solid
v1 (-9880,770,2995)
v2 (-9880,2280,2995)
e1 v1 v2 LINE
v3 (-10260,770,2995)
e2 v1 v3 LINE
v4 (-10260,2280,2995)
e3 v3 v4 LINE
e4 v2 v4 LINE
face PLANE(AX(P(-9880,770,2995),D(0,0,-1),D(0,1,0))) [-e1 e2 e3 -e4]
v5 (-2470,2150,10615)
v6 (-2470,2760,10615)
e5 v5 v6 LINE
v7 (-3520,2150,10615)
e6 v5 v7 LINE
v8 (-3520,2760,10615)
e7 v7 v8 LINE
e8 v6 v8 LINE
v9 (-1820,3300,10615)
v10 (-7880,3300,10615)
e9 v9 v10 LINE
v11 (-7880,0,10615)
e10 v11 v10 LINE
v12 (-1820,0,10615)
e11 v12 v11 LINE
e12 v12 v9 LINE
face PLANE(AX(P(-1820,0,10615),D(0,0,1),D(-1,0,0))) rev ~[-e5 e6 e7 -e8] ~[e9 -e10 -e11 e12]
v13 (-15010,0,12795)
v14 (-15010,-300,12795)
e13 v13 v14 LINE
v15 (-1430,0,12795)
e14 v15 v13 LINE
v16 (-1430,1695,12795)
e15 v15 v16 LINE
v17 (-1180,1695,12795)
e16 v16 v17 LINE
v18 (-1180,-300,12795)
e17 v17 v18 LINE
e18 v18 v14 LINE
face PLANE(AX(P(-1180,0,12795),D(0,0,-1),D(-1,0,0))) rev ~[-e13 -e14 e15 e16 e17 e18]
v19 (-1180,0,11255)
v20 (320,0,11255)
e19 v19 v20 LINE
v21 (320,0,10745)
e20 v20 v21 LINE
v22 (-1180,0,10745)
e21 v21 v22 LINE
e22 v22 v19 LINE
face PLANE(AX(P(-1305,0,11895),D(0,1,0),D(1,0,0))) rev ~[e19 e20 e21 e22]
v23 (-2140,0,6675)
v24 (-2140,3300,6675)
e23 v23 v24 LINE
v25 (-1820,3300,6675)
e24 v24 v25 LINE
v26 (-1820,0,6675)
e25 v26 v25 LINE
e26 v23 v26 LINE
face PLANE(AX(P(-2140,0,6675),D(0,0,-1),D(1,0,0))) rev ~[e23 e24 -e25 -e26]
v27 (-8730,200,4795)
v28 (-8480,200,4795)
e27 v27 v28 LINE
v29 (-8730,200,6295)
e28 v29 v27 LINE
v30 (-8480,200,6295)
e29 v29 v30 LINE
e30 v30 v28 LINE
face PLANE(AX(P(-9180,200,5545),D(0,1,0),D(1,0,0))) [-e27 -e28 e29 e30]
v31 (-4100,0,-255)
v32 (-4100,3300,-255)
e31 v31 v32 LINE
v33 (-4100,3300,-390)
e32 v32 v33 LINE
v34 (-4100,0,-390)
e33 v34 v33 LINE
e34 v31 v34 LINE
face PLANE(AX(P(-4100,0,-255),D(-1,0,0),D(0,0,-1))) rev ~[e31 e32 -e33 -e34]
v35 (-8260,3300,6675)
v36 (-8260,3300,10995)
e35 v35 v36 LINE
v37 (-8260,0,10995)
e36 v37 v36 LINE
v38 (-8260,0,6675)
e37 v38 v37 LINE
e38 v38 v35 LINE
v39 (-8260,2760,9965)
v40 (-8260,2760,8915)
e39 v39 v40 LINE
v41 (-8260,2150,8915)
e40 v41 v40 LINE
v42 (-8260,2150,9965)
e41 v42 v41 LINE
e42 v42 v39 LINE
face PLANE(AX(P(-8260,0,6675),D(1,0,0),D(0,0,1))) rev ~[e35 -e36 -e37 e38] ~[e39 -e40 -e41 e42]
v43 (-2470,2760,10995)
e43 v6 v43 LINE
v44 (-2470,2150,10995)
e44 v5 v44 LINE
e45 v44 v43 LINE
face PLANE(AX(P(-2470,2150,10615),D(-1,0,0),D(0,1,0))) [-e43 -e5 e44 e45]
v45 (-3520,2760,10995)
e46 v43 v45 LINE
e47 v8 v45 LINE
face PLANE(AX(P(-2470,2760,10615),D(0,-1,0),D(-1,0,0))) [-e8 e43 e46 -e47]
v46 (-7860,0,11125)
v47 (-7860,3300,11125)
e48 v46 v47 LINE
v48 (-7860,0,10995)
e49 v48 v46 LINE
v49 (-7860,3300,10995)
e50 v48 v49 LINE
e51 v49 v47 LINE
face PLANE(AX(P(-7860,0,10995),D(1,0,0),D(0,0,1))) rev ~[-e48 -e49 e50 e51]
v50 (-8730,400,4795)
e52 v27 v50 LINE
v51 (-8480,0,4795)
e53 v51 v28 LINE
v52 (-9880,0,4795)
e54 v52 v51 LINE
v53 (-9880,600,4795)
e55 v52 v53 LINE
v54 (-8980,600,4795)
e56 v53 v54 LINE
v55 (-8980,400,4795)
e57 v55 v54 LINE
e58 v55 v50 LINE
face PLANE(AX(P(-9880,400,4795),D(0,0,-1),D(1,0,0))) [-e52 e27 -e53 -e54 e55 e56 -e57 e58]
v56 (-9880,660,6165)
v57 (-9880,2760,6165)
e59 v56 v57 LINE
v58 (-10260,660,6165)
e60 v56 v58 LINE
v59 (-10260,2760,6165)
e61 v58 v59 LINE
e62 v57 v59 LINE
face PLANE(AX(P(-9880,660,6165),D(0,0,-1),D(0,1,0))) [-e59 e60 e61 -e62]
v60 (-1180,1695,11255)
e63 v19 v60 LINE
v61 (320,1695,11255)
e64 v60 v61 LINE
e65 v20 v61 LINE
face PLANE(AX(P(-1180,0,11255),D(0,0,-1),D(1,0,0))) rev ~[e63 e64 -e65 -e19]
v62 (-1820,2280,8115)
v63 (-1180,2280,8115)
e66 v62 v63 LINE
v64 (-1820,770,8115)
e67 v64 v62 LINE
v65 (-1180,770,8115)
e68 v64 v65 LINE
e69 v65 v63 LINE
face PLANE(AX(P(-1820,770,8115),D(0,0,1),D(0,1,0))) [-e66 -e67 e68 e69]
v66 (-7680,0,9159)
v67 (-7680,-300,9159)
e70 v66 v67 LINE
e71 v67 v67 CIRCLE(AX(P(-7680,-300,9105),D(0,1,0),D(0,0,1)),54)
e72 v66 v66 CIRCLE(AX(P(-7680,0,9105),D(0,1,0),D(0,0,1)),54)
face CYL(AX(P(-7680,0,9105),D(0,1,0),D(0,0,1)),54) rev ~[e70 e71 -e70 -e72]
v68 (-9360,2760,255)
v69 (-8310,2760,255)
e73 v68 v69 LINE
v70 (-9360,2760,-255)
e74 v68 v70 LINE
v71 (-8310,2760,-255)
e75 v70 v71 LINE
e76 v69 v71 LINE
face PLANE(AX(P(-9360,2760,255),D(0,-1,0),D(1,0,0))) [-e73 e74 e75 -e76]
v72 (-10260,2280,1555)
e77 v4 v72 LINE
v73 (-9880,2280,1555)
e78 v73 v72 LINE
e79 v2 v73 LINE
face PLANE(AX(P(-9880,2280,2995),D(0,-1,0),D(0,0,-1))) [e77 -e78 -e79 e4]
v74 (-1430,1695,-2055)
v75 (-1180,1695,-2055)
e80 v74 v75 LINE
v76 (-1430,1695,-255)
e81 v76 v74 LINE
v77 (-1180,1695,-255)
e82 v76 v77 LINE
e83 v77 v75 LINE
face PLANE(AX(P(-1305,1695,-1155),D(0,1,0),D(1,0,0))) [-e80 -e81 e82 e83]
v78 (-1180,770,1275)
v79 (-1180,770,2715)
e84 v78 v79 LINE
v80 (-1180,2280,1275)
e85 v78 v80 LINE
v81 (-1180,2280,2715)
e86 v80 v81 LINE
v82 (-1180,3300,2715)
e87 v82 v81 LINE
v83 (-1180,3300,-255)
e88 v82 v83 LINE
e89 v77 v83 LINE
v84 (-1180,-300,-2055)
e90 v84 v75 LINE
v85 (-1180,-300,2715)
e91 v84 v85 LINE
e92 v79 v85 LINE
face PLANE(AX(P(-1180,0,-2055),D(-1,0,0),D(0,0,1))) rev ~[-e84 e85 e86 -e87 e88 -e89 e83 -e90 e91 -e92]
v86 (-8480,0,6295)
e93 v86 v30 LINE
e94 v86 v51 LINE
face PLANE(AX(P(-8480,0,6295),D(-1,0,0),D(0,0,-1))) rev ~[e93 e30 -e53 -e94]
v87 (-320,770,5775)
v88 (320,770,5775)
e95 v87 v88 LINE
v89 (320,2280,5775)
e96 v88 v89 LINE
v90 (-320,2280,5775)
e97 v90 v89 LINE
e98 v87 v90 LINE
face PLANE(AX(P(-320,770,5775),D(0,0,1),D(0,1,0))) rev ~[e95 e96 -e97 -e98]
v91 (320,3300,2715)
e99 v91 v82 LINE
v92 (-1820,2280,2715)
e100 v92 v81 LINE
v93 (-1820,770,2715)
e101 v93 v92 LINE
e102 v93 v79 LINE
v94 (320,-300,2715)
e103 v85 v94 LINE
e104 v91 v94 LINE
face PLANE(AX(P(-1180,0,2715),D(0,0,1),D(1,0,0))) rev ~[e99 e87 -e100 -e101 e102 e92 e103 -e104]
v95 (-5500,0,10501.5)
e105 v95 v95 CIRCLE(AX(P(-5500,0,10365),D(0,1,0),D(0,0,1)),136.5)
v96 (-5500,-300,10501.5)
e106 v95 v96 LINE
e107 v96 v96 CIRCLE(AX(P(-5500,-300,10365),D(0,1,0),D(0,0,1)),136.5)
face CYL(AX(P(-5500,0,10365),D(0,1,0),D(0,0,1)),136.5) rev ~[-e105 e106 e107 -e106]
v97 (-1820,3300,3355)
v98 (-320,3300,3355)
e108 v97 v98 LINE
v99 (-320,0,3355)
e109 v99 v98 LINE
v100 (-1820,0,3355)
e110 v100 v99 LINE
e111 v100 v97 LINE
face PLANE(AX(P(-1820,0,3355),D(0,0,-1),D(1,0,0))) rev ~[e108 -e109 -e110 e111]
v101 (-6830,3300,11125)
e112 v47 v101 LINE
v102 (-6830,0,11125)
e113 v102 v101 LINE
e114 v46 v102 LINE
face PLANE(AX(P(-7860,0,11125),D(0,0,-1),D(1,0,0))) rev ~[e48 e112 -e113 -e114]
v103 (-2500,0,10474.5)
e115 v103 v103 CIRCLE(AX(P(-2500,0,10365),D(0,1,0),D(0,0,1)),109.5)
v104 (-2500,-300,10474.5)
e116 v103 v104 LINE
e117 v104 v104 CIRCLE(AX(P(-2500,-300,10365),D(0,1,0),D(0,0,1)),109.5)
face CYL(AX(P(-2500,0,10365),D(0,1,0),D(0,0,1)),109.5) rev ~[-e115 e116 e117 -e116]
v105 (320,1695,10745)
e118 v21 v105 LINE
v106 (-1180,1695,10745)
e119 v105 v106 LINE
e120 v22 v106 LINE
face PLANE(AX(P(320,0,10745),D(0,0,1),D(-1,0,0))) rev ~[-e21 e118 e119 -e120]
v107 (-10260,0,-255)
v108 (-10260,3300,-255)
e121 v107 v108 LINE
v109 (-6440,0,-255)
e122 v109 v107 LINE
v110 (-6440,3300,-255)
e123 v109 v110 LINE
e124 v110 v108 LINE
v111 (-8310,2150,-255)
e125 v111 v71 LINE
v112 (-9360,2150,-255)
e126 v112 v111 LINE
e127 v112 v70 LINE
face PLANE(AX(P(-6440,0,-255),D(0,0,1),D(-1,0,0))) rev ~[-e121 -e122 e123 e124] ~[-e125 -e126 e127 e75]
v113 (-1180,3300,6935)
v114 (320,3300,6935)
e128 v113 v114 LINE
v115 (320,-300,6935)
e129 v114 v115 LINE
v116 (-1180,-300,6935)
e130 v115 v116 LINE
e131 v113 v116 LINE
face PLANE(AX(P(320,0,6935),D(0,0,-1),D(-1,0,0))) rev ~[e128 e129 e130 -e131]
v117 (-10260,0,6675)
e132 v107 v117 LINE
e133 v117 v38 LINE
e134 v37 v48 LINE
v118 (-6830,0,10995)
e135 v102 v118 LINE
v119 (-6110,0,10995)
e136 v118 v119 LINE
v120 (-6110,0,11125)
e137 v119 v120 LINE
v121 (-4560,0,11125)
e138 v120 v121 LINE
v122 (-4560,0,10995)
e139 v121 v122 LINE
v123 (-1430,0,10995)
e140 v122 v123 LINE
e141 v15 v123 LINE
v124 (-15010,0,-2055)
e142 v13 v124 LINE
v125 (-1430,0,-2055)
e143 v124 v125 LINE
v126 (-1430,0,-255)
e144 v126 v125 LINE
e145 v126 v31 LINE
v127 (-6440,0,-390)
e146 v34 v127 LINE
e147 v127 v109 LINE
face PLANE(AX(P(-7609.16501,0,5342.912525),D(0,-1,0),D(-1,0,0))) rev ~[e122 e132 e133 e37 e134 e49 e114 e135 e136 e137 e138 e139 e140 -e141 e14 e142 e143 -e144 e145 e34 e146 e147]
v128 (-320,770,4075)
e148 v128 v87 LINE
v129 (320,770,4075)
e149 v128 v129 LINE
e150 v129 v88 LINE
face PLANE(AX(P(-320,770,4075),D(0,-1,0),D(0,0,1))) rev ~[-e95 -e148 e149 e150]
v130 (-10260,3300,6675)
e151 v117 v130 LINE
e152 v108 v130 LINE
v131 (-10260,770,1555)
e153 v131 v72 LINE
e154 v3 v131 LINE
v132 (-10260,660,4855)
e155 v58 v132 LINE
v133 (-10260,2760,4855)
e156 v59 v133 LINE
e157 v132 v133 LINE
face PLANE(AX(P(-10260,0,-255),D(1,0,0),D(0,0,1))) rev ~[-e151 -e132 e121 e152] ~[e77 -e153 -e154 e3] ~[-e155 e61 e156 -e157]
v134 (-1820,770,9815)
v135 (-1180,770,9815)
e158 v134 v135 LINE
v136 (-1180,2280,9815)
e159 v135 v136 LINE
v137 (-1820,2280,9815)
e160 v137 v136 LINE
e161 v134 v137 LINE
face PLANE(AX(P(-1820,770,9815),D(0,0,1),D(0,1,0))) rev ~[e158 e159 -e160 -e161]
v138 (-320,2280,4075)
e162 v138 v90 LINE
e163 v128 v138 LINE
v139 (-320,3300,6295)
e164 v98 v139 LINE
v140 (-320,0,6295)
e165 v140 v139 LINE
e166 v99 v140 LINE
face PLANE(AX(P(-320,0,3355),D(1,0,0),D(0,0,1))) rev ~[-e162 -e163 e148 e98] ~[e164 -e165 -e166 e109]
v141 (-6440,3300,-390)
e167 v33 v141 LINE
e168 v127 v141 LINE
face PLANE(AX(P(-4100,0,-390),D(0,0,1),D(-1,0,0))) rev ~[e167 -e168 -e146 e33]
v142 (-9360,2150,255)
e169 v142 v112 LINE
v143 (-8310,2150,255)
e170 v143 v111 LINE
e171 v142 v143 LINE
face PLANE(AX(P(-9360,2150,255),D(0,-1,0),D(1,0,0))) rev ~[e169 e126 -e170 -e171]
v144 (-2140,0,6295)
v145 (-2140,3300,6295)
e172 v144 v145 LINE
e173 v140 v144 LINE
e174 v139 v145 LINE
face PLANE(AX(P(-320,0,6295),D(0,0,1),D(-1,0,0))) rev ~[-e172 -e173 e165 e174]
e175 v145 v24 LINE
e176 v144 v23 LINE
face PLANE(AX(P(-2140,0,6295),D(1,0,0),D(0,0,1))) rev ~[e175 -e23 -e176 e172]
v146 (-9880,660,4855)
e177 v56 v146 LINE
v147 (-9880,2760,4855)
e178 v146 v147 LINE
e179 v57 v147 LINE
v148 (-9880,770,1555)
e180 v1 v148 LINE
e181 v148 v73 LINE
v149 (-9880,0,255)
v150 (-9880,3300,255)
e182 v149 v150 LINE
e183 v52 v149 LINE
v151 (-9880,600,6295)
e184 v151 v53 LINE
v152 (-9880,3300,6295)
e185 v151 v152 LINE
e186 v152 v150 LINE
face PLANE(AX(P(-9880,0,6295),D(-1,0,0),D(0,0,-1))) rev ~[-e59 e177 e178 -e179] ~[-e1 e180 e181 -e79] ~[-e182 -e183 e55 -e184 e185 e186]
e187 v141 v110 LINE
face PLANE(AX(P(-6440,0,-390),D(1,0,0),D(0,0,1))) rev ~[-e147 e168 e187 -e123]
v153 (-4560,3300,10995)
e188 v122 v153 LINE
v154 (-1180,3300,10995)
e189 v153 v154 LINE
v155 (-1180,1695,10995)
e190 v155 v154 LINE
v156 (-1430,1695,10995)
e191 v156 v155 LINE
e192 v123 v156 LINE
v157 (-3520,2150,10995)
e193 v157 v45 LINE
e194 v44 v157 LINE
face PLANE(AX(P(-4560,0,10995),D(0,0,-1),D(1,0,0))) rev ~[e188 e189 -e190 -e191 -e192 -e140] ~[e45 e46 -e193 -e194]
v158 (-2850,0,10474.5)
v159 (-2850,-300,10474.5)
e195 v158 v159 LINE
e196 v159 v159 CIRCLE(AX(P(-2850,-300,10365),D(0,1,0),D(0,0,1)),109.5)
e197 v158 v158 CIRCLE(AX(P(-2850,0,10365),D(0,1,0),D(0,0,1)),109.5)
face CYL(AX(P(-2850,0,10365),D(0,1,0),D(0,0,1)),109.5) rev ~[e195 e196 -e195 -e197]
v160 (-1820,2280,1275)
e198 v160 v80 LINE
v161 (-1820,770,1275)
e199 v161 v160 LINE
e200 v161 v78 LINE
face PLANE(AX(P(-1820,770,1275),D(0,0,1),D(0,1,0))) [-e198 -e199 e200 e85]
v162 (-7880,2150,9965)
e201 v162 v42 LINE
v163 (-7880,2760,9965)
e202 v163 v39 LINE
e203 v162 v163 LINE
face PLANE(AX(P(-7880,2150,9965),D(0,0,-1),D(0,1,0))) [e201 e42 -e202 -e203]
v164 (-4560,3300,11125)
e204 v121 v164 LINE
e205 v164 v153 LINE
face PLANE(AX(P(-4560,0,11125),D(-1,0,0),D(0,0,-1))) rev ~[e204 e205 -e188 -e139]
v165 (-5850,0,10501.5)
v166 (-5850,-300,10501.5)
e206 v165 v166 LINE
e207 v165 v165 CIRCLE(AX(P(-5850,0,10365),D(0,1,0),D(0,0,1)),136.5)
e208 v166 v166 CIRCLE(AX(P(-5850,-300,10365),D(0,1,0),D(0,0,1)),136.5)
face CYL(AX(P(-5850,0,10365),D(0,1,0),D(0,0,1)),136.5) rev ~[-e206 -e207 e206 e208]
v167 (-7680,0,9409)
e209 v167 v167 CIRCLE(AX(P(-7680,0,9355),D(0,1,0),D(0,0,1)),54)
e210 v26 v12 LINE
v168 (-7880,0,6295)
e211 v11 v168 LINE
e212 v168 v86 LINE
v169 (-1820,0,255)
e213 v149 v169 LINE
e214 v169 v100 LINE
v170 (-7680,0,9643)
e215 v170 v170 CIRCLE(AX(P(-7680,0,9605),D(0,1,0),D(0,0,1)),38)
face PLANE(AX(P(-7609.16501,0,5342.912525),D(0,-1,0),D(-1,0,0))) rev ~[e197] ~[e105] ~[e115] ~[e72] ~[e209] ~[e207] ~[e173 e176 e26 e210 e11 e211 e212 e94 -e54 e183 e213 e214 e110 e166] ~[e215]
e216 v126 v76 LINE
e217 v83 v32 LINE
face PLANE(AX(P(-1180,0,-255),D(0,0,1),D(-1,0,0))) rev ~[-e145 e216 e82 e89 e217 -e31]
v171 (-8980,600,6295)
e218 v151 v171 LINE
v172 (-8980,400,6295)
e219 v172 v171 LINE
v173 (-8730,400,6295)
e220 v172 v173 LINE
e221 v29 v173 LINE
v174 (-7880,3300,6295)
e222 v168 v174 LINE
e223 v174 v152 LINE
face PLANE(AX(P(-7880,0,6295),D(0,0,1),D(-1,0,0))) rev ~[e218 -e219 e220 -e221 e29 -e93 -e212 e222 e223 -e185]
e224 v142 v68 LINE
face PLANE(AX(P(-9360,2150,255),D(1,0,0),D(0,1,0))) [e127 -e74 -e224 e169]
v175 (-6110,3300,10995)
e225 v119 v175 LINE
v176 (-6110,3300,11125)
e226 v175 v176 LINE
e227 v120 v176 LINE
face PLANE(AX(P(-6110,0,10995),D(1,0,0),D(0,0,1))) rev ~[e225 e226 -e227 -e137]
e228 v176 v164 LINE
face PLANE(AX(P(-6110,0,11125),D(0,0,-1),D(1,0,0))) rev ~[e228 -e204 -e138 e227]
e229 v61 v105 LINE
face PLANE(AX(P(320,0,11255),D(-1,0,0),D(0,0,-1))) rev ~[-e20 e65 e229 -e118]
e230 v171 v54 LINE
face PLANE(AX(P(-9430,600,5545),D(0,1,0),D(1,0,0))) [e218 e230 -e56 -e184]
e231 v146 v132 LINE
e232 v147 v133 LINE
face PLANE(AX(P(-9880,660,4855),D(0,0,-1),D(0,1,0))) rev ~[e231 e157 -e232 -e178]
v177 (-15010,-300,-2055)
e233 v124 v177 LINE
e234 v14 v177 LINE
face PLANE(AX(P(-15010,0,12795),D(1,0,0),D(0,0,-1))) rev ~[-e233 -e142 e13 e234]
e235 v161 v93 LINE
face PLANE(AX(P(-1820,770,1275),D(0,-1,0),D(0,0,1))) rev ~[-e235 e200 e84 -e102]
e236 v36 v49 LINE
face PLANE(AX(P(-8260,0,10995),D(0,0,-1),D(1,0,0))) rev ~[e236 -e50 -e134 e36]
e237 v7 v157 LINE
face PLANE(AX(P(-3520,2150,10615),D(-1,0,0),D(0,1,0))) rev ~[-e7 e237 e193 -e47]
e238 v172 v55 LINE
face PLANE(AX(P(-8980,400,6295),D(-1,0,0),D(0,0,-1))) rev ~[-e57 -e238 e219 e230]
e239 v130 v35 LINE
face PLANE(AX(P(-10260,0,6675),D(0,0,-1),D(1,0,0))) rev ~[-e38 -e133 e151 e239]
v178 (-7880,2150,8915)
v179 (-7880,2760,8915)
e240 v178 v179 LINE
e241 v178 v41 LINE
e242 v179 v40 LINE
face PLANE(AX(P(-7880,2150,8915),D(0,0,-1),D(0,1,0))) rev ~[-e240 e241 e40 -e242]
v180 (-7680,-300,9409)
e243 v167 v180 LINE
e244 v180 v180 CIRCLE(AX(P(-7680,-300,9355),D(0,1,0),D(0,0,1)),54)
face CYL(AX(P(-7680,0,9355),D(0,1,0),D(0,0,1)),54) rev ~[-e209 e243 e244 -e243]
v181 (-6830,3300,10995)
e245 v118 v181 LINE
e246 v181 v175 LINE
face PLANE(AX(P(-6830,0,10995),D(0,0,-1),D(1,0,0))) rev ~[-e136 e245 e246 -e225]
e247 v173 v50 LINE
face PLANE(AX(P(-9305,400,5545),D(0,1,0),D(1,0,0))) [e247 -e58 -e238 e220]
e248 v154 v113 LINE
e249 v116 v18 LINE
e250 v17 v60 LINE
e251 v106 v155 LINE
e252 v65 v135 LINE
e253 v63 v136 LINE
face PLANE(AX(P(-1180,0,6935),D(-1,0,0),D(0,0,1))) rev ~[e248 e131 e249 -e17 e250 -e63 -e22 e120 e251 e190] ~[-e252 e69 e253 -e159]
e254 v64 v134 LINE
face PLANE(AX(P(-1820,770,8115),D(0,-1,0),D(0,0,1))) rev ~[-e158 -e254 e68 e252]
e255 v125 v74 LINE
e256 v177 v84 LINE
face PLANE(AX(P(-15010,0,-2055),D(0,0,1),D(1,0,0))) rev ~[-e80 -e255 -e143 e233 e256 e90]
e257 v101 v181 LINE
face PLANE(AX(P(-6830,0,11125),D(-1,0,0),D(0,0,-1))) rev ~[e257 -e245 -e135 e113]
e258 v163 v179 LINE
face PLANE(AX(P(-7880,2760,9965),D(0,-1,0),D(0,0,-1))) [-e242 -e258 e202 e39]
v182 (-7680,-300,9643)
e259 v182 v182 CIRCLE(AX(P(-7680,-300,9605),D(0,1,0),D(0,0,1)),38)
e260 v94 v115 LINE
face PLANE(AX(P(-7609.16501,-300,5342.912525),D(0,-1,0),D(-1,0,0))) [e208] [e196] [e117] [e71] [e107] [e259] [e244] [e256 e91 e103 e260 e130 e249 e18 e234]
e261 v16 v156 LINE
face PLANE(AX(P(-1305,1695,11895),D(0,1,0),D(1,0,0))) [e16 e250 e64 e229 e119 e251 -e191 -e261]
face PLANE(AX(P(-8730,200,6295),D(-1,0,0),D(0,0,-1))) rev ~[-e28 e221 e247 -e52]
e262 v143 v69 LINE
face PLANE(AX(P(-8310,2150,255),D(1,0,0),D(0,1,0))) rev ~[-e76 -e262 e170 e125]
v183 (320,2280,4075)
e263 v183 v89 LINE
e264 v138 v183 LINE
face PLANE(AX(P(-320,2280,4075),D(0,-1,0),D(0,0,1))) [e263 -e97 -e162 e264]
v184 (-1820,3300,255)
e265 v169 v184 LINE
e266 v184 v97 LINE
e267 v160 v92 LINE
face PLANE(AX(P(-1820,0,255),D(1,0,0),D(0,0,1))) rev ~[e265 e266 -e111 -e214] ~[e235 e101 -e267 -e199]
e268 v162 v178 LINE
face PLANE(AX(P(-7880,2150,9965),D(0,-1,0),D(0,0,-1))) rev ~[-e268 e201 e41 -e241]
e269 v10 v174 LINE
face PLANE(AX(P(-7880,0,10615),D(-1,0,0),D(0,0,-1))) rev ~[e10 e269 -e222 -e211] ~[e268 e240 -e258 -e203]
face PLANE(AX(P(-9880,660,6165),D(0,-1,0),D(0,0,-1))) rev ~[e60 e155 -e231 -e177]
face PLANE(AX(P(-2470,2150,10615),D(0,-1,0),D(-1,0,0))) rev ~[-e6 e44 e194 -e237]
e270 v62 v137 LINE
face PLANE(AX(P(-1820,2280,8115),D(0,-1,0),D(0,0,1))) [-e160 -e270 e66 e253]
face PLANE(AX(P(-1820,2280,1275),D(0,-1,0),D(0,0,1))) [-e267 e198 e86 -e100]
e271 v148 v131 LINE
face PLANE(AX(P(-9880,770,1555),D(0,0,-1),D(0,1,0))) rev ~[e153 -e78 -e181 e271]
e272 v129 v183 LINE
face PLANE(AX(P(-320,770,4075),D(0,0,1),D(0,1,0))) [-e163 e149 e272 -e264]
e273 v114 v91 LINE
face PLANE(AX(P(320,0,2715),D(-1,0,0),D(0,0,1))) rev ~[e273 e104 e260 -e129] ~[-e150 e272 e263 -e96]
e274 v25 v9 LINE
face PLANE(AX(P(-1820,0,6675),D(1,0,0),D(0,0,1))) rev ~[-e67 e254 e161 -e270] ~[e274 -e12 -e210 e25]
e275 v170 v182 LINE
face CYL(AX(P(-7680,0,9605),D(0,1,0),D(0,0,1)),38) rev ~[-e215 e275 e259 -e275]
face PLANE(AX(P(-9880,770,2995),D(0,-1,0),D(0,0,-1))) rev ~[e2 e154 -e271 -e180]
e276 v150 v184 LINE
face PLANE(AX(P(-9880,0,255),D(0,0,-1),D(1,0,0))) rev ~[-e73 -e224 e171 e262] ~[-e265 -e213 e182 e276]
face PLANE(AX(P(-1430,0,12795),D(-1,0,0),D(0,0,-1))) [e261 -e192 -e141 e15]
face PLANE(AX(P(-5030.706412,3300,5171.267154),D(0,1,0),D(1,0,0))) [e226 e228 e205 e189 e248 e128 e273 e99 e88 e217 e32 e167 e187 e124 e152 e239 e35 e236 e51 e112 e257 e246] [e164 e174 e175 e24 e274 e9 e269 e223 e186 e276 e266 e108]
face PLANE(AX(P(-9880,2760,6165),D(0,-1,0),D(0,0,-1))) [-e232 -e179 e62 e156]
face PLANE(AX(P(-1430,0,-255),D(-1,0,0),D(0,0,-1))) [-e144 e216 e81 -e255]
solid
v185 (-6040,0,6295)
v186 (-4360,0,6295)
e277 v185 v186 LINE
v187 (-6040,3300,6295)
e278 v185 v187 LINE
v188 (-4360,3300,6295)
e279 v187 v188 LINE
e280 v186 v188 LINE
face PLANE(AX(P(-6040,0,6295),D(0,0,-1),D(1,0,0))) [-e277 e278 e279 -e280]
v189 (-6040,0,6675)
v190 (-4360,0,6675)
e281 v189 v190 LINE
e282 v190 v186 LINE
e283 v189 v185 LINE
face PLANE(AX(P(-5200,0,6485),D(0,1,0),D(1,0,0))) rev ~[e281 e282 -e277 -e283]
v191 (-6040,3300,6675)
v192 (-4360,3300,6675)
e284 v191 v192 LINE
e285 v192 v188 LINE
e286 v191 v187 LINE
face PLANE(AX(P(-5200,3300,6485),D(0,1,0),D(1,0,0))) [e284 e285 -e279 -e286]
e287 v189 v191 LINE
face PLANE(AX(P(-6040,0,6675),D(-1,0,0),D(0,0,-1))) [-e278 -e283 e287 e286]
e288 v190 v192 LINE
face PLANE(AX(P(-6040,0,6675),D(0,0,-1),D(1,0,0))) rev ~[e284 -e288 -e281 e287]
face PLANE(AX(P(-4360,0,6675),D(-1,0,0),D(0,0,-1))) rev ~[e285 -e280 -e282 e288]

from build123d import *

# Parameters (mm, degrees)
EXTRUDE_1_DEPTH     = 3300
SKETCH_1_W          = 1680
SKETCH_1_H          = 380
EXTRUDE_1_2_DEPTH   = 3300
SKETCH_3_W          = 250
SKETCH_3_H          = 1800
EXTRUDE_2_DEPTH     = 1695
EXTRUDE_3_DEPTH     = 300
SKETCH_5_W          = 1310
SKETCH_5_H          = 2100
SKETCH_5_W_2        = 1440
SKETCH_5_H_2        = 1510
CUT_EXTRUDE_1_DEPTH = 380
SKETCH_6_W          = 1400
SKETCH_6_H          = 1500
EXTRUDE_4_DEPTH     = 200
SKETCH_7_W          = 1150
SKETCH_7_H          = 1500
EXTRUDE_5_DEPTH     = 200
SKETCH_8_W          = 900
SKETCH_8_H          = 1500
EXTRUDE_6_DEPTH     = 200
SKETCH_9_W          = 1440
SKETCH_9_H          = 1510
CUT_EXTRUDE_2_DEPTH = 640
SKETCH_10_W         = 1700
SKETCH_10_H         = 1510
CUT_EXTRUDE_3_DEPTH = 640
SKETCH_11_W         = 1050
SKETCH_11_H         = 610
CUT_EXTRUDE_4_DEPTH = 510
SKETCH_12_W         = 1050
SKETCH_12_H         = 610
CUT_EXTRUDE_5_DEPTH = 380
SKETCH_13_W         = 1050
SKETCH_13_H         = 610
CUT_EXTRUDE_6_DEPTH = 380
SKETCH_14_W         = 1700
SKETCH_14_H         = 1510
CUT_EXTRUDE_7_DEPTH = 640
SKETCH_15_R         = 54
SKETCH_15_R_2       = 38
SKETCH_15_R_3       = 136.5
SKETCH_15_R_4       = 109.5
CUT_EXTRUDE_8_DEPTH = 300


with BuildPart() as part:
    # Эскиз1 → Бобышка-Вытянуть1 (new body)
    with BuildSketch(Plane(origin=(0, 0, 0), x_dir=(1, 0, 0), z_dir=(0, 1, 0))):
        Polygon((-6440, 255), (-10260, 255), (-10260, -6675), (-8260, -6675), (-8260, -10995), (-7860, -10995), (-7860, -11125), (-6830, -11125), (-6830, -10995), (-6110, -10995), (-6110, -11125), (-4560, -11125), (-4560, -10995), (-1180, -10995), (-1180, -6935), (320, -6935), (320, -2715), (-1180, -2715), (-1180, 255), (-4100, 255), (-4100, 390), (-6440, 390), align=None)
        Polygon((-7880, -10615), (-7880, -6675), (-7880, -6295), (-9880, -6295), (-9880, -255), (-1820, -255), (-1820, -3355), (-320, -3355), (-320, -6295), (-2140, -6295), (-2140, -6675), (-1820, -6675), (-1820, -10615), align=None, mode=Mode.SUBTRACT)
    extrude(amount=EXTRUDE_1_DEPTH)

    # Эскиз3 → Бобышка-Вытянуть2 (add)
    with BuildSketch(Plane(origin=(0, 0, 0), x_dir=(1, 0, 0), z_dir=(0, 1, 0))):
        with Locations((-1305, -11895)):
            Rectangle(SKETCH_3_W, SKETCH_3_H)
        Polygon((-1180, -10745), (-1180, -10995), (-1180, -11255), (320, -11255), (320, -10745), align=None)
        with Locations((-1305, 1155)):
            Rectangle(SKETCH_3_W, SKETCH_3_H)
    extrude(amount=EXTRUDE_2_DEPTH)

    # Эскиз4 → Бобышка-Вытянуть3 (add)
    with BuildSketch(Plane(origin=(0, 0, 0), x_dir=(1, 0, 0), z_dir=(0, 1, 0))):
        Polygon((-1180, 2055), (-1180, -2715), (320, -2715), (320, -6935), (-1180, -6935), (-1180, -12795), (-15010, -12795), (-15010, 2055), align=None)
    extrude(amount=-EXTRUDE_3_DEPTH)

    # Эскиз5 → Вырез-Вытянуть1 (cut)
    with BuildSketch(Plane(origin=(-9880, 0, 0), x_dir=(0, 0, -1), z_dir=(1, 0, 0))):
        with Locations((-5510, 1710)):
            Rectangle(SKETCH_5_W, SKETCH_5_H)
        with Locations((-2275, 1525)):
            Rectangle(SKETCH_5_W_2, SKETCH_5_H_2)
    extrude(amount=-CUT_EXTRUDE_1_DEPTH, mode=Mode.SUBTRACT)

    # Эскиз6 → Бобышка-Вытянуть4 (add)
    with BuildSketch(Plane(origin=(0, 0, 0), x_dir=(1, 0, 0), z_dir=(0, 1, 0))):
        with Locations((-9180, -5545)):
            Rectangle(SKETCH_6_W, SKETCH_6_H)
    extrude(amount=EXTRUDE_4_DEPTH)

    # Эскиз7 → Бобышка-Вытянуть5 (add)
    with BuildSketch(Plane(origin=(0, 200, 0), x_dir=(1, 0, 0), z_dir=(0, 1, 0))):
        with Locations((-9305, -5545)):
            Rectangle(SKETCH_7_W, SKETCH_7_H)
    extrude(amount=EXTRUDE_5_DEPTH)

    # Эскиз8 → Бобышка-Вытянуть6 (add)
    with BuildSketch(Plane(origin=(0, 400, 0), x_dir=(1, 0, 0), z_dir=(0, 1, 0))):
        with Locations((-9430, -5545)):
            Rectangle(SKETCH_8_W, SKETCH_8_H)
    extrude(amount=EXTRUDE_6_DEPTH)

    # Эскиз9 → Вырез-Вытянуть2 (cut)
    with BuildSketch(Plane.ZY.offset(1820)):
        with Locations((1995, 1525)):
            Rectangle(SKETCH_9_W, SKETCH_9_H)
    extrude(amount=-CUT_EXTRUDE_2_DEPTH, mode=Mode.SUBTRACT)

    # Эскиз10 → Вырез-Вытянуть3 (cut)
    with BuildSketch(Plane.ZY.offset(1820)):
        with Locations((8965, 1525)):
            Rectangle(SKETCH_10_W, SKETCH_10_H)
    extrude(amount=-CUT_EXTRUDE_3_DEPTH, mode=Mode.SUBTRACT)

    # Эскиз11 → Вырез-Вытянуть4 (cut)
    with BuildSketch(Plane.XY.offset(255)):
        with Locations((-8835, 2455)):
            Rectangle(SKETCH_11_W, SKETCH_11_H)
    extrude(amount=-CUT_EXTRUDE_4_DEPTH, mode=Mode.SUBTRACT)

    # Эскиз12 → Вырез-Вытянуть5 (cut)
    with BuildSketch(Plane(origin=(-7880, 0, 0), x_dir=(0, 0, -1), z_dir=(1, 0, 0))):
        with Locations((-9440, 2455)):
            Rectangle(SKETCH_12_W, SKETCH_12_H)
    extrude(amount=-CUT_EXTRUDE_5_DEPTH, mode=Mode.SUBTRACT)

    # Эскиз13 → Вырез-Вытянуть6 (cut)
    with BuildSketch(Plane(origin=(0, 0, 10615), x_dir=(-1, 0, 0), z_dir=(0, 0, -1))):
        with Locations((2995, 2455)):
            Rectangle(SKETCH_13_W, SKETCH_13_H)
    extrude(amount=-CUT_EXTRUDE_6_DEPTH, mode=Mode.SUBTRACT)

    # Эскиз14 → Вырез-Вытянуть7 (cut)
    with BuildSketch(Plane.ZY.offset(320)):
        with Locations((4925, 1525)):
            Rectangle(SKETCH_14_W, SKETCH_14_H)
    extrude(amount=-CUT_EXTRUDE_7_DEPTH, mode=Mode.SUBTRACT)

    # Эскиз15 → Вырез-Вытянуть8 (cut)
    with BuildSketch(Plane(origin=(0, 0, 0), x_dir=(1, 0, 0), z_dir=(0, 1, 0))):
        with Locations(Location((-7680, -9355, 0), (0, 0, 270))):
            Circle(SKETCH_15_R)
        with Locations(Location((-7680, -9605, 0), (0, 0, 270))):
            Circle(SKETCH_15_R_2)
        with Locations(Location((-5850, -10365, 0), (0, 0, 270))):
            Circle(SKETCH_15_R_3)
        with Locations(Location((-5500, -10365, 0), (0, 0, 270))):
            Circle(SKETCH_15_R_3)
        with Locations(Location((-2850, -10365, 0), (0, 0, 270))):
            Circle(SKETCH_15_R_4)
        with Locations(Location((-2500, -10365, 0), (0, 0, 270))):
            Circle(SKETCH_15_R_4)
        with Locations(Location((-7680, -9105, 0), (0, 0, 270))):
            Circle(SKETCH_15_R)
    extrude(amount=-CUT_EXTRUDE_8_DEPTH, mode=Mode.SUBTRACT)


with BuildPart() as body_2:
    # Эскиз1 → Extrude 1 2 (new body)
    with BuildSketch(Plane(origin=(0, 0, 0), x_dir=(1, 0, 0), z_dir=(0, 1, 0))):
        with Locations((-5200, -6485)):
            Rectangle(SKETCH_1_W, SKETCH_1_H)
    extrude(amount=EXTRUDE_1_2_DEPTH)


solid = Compound([part.part, body_2.part])
